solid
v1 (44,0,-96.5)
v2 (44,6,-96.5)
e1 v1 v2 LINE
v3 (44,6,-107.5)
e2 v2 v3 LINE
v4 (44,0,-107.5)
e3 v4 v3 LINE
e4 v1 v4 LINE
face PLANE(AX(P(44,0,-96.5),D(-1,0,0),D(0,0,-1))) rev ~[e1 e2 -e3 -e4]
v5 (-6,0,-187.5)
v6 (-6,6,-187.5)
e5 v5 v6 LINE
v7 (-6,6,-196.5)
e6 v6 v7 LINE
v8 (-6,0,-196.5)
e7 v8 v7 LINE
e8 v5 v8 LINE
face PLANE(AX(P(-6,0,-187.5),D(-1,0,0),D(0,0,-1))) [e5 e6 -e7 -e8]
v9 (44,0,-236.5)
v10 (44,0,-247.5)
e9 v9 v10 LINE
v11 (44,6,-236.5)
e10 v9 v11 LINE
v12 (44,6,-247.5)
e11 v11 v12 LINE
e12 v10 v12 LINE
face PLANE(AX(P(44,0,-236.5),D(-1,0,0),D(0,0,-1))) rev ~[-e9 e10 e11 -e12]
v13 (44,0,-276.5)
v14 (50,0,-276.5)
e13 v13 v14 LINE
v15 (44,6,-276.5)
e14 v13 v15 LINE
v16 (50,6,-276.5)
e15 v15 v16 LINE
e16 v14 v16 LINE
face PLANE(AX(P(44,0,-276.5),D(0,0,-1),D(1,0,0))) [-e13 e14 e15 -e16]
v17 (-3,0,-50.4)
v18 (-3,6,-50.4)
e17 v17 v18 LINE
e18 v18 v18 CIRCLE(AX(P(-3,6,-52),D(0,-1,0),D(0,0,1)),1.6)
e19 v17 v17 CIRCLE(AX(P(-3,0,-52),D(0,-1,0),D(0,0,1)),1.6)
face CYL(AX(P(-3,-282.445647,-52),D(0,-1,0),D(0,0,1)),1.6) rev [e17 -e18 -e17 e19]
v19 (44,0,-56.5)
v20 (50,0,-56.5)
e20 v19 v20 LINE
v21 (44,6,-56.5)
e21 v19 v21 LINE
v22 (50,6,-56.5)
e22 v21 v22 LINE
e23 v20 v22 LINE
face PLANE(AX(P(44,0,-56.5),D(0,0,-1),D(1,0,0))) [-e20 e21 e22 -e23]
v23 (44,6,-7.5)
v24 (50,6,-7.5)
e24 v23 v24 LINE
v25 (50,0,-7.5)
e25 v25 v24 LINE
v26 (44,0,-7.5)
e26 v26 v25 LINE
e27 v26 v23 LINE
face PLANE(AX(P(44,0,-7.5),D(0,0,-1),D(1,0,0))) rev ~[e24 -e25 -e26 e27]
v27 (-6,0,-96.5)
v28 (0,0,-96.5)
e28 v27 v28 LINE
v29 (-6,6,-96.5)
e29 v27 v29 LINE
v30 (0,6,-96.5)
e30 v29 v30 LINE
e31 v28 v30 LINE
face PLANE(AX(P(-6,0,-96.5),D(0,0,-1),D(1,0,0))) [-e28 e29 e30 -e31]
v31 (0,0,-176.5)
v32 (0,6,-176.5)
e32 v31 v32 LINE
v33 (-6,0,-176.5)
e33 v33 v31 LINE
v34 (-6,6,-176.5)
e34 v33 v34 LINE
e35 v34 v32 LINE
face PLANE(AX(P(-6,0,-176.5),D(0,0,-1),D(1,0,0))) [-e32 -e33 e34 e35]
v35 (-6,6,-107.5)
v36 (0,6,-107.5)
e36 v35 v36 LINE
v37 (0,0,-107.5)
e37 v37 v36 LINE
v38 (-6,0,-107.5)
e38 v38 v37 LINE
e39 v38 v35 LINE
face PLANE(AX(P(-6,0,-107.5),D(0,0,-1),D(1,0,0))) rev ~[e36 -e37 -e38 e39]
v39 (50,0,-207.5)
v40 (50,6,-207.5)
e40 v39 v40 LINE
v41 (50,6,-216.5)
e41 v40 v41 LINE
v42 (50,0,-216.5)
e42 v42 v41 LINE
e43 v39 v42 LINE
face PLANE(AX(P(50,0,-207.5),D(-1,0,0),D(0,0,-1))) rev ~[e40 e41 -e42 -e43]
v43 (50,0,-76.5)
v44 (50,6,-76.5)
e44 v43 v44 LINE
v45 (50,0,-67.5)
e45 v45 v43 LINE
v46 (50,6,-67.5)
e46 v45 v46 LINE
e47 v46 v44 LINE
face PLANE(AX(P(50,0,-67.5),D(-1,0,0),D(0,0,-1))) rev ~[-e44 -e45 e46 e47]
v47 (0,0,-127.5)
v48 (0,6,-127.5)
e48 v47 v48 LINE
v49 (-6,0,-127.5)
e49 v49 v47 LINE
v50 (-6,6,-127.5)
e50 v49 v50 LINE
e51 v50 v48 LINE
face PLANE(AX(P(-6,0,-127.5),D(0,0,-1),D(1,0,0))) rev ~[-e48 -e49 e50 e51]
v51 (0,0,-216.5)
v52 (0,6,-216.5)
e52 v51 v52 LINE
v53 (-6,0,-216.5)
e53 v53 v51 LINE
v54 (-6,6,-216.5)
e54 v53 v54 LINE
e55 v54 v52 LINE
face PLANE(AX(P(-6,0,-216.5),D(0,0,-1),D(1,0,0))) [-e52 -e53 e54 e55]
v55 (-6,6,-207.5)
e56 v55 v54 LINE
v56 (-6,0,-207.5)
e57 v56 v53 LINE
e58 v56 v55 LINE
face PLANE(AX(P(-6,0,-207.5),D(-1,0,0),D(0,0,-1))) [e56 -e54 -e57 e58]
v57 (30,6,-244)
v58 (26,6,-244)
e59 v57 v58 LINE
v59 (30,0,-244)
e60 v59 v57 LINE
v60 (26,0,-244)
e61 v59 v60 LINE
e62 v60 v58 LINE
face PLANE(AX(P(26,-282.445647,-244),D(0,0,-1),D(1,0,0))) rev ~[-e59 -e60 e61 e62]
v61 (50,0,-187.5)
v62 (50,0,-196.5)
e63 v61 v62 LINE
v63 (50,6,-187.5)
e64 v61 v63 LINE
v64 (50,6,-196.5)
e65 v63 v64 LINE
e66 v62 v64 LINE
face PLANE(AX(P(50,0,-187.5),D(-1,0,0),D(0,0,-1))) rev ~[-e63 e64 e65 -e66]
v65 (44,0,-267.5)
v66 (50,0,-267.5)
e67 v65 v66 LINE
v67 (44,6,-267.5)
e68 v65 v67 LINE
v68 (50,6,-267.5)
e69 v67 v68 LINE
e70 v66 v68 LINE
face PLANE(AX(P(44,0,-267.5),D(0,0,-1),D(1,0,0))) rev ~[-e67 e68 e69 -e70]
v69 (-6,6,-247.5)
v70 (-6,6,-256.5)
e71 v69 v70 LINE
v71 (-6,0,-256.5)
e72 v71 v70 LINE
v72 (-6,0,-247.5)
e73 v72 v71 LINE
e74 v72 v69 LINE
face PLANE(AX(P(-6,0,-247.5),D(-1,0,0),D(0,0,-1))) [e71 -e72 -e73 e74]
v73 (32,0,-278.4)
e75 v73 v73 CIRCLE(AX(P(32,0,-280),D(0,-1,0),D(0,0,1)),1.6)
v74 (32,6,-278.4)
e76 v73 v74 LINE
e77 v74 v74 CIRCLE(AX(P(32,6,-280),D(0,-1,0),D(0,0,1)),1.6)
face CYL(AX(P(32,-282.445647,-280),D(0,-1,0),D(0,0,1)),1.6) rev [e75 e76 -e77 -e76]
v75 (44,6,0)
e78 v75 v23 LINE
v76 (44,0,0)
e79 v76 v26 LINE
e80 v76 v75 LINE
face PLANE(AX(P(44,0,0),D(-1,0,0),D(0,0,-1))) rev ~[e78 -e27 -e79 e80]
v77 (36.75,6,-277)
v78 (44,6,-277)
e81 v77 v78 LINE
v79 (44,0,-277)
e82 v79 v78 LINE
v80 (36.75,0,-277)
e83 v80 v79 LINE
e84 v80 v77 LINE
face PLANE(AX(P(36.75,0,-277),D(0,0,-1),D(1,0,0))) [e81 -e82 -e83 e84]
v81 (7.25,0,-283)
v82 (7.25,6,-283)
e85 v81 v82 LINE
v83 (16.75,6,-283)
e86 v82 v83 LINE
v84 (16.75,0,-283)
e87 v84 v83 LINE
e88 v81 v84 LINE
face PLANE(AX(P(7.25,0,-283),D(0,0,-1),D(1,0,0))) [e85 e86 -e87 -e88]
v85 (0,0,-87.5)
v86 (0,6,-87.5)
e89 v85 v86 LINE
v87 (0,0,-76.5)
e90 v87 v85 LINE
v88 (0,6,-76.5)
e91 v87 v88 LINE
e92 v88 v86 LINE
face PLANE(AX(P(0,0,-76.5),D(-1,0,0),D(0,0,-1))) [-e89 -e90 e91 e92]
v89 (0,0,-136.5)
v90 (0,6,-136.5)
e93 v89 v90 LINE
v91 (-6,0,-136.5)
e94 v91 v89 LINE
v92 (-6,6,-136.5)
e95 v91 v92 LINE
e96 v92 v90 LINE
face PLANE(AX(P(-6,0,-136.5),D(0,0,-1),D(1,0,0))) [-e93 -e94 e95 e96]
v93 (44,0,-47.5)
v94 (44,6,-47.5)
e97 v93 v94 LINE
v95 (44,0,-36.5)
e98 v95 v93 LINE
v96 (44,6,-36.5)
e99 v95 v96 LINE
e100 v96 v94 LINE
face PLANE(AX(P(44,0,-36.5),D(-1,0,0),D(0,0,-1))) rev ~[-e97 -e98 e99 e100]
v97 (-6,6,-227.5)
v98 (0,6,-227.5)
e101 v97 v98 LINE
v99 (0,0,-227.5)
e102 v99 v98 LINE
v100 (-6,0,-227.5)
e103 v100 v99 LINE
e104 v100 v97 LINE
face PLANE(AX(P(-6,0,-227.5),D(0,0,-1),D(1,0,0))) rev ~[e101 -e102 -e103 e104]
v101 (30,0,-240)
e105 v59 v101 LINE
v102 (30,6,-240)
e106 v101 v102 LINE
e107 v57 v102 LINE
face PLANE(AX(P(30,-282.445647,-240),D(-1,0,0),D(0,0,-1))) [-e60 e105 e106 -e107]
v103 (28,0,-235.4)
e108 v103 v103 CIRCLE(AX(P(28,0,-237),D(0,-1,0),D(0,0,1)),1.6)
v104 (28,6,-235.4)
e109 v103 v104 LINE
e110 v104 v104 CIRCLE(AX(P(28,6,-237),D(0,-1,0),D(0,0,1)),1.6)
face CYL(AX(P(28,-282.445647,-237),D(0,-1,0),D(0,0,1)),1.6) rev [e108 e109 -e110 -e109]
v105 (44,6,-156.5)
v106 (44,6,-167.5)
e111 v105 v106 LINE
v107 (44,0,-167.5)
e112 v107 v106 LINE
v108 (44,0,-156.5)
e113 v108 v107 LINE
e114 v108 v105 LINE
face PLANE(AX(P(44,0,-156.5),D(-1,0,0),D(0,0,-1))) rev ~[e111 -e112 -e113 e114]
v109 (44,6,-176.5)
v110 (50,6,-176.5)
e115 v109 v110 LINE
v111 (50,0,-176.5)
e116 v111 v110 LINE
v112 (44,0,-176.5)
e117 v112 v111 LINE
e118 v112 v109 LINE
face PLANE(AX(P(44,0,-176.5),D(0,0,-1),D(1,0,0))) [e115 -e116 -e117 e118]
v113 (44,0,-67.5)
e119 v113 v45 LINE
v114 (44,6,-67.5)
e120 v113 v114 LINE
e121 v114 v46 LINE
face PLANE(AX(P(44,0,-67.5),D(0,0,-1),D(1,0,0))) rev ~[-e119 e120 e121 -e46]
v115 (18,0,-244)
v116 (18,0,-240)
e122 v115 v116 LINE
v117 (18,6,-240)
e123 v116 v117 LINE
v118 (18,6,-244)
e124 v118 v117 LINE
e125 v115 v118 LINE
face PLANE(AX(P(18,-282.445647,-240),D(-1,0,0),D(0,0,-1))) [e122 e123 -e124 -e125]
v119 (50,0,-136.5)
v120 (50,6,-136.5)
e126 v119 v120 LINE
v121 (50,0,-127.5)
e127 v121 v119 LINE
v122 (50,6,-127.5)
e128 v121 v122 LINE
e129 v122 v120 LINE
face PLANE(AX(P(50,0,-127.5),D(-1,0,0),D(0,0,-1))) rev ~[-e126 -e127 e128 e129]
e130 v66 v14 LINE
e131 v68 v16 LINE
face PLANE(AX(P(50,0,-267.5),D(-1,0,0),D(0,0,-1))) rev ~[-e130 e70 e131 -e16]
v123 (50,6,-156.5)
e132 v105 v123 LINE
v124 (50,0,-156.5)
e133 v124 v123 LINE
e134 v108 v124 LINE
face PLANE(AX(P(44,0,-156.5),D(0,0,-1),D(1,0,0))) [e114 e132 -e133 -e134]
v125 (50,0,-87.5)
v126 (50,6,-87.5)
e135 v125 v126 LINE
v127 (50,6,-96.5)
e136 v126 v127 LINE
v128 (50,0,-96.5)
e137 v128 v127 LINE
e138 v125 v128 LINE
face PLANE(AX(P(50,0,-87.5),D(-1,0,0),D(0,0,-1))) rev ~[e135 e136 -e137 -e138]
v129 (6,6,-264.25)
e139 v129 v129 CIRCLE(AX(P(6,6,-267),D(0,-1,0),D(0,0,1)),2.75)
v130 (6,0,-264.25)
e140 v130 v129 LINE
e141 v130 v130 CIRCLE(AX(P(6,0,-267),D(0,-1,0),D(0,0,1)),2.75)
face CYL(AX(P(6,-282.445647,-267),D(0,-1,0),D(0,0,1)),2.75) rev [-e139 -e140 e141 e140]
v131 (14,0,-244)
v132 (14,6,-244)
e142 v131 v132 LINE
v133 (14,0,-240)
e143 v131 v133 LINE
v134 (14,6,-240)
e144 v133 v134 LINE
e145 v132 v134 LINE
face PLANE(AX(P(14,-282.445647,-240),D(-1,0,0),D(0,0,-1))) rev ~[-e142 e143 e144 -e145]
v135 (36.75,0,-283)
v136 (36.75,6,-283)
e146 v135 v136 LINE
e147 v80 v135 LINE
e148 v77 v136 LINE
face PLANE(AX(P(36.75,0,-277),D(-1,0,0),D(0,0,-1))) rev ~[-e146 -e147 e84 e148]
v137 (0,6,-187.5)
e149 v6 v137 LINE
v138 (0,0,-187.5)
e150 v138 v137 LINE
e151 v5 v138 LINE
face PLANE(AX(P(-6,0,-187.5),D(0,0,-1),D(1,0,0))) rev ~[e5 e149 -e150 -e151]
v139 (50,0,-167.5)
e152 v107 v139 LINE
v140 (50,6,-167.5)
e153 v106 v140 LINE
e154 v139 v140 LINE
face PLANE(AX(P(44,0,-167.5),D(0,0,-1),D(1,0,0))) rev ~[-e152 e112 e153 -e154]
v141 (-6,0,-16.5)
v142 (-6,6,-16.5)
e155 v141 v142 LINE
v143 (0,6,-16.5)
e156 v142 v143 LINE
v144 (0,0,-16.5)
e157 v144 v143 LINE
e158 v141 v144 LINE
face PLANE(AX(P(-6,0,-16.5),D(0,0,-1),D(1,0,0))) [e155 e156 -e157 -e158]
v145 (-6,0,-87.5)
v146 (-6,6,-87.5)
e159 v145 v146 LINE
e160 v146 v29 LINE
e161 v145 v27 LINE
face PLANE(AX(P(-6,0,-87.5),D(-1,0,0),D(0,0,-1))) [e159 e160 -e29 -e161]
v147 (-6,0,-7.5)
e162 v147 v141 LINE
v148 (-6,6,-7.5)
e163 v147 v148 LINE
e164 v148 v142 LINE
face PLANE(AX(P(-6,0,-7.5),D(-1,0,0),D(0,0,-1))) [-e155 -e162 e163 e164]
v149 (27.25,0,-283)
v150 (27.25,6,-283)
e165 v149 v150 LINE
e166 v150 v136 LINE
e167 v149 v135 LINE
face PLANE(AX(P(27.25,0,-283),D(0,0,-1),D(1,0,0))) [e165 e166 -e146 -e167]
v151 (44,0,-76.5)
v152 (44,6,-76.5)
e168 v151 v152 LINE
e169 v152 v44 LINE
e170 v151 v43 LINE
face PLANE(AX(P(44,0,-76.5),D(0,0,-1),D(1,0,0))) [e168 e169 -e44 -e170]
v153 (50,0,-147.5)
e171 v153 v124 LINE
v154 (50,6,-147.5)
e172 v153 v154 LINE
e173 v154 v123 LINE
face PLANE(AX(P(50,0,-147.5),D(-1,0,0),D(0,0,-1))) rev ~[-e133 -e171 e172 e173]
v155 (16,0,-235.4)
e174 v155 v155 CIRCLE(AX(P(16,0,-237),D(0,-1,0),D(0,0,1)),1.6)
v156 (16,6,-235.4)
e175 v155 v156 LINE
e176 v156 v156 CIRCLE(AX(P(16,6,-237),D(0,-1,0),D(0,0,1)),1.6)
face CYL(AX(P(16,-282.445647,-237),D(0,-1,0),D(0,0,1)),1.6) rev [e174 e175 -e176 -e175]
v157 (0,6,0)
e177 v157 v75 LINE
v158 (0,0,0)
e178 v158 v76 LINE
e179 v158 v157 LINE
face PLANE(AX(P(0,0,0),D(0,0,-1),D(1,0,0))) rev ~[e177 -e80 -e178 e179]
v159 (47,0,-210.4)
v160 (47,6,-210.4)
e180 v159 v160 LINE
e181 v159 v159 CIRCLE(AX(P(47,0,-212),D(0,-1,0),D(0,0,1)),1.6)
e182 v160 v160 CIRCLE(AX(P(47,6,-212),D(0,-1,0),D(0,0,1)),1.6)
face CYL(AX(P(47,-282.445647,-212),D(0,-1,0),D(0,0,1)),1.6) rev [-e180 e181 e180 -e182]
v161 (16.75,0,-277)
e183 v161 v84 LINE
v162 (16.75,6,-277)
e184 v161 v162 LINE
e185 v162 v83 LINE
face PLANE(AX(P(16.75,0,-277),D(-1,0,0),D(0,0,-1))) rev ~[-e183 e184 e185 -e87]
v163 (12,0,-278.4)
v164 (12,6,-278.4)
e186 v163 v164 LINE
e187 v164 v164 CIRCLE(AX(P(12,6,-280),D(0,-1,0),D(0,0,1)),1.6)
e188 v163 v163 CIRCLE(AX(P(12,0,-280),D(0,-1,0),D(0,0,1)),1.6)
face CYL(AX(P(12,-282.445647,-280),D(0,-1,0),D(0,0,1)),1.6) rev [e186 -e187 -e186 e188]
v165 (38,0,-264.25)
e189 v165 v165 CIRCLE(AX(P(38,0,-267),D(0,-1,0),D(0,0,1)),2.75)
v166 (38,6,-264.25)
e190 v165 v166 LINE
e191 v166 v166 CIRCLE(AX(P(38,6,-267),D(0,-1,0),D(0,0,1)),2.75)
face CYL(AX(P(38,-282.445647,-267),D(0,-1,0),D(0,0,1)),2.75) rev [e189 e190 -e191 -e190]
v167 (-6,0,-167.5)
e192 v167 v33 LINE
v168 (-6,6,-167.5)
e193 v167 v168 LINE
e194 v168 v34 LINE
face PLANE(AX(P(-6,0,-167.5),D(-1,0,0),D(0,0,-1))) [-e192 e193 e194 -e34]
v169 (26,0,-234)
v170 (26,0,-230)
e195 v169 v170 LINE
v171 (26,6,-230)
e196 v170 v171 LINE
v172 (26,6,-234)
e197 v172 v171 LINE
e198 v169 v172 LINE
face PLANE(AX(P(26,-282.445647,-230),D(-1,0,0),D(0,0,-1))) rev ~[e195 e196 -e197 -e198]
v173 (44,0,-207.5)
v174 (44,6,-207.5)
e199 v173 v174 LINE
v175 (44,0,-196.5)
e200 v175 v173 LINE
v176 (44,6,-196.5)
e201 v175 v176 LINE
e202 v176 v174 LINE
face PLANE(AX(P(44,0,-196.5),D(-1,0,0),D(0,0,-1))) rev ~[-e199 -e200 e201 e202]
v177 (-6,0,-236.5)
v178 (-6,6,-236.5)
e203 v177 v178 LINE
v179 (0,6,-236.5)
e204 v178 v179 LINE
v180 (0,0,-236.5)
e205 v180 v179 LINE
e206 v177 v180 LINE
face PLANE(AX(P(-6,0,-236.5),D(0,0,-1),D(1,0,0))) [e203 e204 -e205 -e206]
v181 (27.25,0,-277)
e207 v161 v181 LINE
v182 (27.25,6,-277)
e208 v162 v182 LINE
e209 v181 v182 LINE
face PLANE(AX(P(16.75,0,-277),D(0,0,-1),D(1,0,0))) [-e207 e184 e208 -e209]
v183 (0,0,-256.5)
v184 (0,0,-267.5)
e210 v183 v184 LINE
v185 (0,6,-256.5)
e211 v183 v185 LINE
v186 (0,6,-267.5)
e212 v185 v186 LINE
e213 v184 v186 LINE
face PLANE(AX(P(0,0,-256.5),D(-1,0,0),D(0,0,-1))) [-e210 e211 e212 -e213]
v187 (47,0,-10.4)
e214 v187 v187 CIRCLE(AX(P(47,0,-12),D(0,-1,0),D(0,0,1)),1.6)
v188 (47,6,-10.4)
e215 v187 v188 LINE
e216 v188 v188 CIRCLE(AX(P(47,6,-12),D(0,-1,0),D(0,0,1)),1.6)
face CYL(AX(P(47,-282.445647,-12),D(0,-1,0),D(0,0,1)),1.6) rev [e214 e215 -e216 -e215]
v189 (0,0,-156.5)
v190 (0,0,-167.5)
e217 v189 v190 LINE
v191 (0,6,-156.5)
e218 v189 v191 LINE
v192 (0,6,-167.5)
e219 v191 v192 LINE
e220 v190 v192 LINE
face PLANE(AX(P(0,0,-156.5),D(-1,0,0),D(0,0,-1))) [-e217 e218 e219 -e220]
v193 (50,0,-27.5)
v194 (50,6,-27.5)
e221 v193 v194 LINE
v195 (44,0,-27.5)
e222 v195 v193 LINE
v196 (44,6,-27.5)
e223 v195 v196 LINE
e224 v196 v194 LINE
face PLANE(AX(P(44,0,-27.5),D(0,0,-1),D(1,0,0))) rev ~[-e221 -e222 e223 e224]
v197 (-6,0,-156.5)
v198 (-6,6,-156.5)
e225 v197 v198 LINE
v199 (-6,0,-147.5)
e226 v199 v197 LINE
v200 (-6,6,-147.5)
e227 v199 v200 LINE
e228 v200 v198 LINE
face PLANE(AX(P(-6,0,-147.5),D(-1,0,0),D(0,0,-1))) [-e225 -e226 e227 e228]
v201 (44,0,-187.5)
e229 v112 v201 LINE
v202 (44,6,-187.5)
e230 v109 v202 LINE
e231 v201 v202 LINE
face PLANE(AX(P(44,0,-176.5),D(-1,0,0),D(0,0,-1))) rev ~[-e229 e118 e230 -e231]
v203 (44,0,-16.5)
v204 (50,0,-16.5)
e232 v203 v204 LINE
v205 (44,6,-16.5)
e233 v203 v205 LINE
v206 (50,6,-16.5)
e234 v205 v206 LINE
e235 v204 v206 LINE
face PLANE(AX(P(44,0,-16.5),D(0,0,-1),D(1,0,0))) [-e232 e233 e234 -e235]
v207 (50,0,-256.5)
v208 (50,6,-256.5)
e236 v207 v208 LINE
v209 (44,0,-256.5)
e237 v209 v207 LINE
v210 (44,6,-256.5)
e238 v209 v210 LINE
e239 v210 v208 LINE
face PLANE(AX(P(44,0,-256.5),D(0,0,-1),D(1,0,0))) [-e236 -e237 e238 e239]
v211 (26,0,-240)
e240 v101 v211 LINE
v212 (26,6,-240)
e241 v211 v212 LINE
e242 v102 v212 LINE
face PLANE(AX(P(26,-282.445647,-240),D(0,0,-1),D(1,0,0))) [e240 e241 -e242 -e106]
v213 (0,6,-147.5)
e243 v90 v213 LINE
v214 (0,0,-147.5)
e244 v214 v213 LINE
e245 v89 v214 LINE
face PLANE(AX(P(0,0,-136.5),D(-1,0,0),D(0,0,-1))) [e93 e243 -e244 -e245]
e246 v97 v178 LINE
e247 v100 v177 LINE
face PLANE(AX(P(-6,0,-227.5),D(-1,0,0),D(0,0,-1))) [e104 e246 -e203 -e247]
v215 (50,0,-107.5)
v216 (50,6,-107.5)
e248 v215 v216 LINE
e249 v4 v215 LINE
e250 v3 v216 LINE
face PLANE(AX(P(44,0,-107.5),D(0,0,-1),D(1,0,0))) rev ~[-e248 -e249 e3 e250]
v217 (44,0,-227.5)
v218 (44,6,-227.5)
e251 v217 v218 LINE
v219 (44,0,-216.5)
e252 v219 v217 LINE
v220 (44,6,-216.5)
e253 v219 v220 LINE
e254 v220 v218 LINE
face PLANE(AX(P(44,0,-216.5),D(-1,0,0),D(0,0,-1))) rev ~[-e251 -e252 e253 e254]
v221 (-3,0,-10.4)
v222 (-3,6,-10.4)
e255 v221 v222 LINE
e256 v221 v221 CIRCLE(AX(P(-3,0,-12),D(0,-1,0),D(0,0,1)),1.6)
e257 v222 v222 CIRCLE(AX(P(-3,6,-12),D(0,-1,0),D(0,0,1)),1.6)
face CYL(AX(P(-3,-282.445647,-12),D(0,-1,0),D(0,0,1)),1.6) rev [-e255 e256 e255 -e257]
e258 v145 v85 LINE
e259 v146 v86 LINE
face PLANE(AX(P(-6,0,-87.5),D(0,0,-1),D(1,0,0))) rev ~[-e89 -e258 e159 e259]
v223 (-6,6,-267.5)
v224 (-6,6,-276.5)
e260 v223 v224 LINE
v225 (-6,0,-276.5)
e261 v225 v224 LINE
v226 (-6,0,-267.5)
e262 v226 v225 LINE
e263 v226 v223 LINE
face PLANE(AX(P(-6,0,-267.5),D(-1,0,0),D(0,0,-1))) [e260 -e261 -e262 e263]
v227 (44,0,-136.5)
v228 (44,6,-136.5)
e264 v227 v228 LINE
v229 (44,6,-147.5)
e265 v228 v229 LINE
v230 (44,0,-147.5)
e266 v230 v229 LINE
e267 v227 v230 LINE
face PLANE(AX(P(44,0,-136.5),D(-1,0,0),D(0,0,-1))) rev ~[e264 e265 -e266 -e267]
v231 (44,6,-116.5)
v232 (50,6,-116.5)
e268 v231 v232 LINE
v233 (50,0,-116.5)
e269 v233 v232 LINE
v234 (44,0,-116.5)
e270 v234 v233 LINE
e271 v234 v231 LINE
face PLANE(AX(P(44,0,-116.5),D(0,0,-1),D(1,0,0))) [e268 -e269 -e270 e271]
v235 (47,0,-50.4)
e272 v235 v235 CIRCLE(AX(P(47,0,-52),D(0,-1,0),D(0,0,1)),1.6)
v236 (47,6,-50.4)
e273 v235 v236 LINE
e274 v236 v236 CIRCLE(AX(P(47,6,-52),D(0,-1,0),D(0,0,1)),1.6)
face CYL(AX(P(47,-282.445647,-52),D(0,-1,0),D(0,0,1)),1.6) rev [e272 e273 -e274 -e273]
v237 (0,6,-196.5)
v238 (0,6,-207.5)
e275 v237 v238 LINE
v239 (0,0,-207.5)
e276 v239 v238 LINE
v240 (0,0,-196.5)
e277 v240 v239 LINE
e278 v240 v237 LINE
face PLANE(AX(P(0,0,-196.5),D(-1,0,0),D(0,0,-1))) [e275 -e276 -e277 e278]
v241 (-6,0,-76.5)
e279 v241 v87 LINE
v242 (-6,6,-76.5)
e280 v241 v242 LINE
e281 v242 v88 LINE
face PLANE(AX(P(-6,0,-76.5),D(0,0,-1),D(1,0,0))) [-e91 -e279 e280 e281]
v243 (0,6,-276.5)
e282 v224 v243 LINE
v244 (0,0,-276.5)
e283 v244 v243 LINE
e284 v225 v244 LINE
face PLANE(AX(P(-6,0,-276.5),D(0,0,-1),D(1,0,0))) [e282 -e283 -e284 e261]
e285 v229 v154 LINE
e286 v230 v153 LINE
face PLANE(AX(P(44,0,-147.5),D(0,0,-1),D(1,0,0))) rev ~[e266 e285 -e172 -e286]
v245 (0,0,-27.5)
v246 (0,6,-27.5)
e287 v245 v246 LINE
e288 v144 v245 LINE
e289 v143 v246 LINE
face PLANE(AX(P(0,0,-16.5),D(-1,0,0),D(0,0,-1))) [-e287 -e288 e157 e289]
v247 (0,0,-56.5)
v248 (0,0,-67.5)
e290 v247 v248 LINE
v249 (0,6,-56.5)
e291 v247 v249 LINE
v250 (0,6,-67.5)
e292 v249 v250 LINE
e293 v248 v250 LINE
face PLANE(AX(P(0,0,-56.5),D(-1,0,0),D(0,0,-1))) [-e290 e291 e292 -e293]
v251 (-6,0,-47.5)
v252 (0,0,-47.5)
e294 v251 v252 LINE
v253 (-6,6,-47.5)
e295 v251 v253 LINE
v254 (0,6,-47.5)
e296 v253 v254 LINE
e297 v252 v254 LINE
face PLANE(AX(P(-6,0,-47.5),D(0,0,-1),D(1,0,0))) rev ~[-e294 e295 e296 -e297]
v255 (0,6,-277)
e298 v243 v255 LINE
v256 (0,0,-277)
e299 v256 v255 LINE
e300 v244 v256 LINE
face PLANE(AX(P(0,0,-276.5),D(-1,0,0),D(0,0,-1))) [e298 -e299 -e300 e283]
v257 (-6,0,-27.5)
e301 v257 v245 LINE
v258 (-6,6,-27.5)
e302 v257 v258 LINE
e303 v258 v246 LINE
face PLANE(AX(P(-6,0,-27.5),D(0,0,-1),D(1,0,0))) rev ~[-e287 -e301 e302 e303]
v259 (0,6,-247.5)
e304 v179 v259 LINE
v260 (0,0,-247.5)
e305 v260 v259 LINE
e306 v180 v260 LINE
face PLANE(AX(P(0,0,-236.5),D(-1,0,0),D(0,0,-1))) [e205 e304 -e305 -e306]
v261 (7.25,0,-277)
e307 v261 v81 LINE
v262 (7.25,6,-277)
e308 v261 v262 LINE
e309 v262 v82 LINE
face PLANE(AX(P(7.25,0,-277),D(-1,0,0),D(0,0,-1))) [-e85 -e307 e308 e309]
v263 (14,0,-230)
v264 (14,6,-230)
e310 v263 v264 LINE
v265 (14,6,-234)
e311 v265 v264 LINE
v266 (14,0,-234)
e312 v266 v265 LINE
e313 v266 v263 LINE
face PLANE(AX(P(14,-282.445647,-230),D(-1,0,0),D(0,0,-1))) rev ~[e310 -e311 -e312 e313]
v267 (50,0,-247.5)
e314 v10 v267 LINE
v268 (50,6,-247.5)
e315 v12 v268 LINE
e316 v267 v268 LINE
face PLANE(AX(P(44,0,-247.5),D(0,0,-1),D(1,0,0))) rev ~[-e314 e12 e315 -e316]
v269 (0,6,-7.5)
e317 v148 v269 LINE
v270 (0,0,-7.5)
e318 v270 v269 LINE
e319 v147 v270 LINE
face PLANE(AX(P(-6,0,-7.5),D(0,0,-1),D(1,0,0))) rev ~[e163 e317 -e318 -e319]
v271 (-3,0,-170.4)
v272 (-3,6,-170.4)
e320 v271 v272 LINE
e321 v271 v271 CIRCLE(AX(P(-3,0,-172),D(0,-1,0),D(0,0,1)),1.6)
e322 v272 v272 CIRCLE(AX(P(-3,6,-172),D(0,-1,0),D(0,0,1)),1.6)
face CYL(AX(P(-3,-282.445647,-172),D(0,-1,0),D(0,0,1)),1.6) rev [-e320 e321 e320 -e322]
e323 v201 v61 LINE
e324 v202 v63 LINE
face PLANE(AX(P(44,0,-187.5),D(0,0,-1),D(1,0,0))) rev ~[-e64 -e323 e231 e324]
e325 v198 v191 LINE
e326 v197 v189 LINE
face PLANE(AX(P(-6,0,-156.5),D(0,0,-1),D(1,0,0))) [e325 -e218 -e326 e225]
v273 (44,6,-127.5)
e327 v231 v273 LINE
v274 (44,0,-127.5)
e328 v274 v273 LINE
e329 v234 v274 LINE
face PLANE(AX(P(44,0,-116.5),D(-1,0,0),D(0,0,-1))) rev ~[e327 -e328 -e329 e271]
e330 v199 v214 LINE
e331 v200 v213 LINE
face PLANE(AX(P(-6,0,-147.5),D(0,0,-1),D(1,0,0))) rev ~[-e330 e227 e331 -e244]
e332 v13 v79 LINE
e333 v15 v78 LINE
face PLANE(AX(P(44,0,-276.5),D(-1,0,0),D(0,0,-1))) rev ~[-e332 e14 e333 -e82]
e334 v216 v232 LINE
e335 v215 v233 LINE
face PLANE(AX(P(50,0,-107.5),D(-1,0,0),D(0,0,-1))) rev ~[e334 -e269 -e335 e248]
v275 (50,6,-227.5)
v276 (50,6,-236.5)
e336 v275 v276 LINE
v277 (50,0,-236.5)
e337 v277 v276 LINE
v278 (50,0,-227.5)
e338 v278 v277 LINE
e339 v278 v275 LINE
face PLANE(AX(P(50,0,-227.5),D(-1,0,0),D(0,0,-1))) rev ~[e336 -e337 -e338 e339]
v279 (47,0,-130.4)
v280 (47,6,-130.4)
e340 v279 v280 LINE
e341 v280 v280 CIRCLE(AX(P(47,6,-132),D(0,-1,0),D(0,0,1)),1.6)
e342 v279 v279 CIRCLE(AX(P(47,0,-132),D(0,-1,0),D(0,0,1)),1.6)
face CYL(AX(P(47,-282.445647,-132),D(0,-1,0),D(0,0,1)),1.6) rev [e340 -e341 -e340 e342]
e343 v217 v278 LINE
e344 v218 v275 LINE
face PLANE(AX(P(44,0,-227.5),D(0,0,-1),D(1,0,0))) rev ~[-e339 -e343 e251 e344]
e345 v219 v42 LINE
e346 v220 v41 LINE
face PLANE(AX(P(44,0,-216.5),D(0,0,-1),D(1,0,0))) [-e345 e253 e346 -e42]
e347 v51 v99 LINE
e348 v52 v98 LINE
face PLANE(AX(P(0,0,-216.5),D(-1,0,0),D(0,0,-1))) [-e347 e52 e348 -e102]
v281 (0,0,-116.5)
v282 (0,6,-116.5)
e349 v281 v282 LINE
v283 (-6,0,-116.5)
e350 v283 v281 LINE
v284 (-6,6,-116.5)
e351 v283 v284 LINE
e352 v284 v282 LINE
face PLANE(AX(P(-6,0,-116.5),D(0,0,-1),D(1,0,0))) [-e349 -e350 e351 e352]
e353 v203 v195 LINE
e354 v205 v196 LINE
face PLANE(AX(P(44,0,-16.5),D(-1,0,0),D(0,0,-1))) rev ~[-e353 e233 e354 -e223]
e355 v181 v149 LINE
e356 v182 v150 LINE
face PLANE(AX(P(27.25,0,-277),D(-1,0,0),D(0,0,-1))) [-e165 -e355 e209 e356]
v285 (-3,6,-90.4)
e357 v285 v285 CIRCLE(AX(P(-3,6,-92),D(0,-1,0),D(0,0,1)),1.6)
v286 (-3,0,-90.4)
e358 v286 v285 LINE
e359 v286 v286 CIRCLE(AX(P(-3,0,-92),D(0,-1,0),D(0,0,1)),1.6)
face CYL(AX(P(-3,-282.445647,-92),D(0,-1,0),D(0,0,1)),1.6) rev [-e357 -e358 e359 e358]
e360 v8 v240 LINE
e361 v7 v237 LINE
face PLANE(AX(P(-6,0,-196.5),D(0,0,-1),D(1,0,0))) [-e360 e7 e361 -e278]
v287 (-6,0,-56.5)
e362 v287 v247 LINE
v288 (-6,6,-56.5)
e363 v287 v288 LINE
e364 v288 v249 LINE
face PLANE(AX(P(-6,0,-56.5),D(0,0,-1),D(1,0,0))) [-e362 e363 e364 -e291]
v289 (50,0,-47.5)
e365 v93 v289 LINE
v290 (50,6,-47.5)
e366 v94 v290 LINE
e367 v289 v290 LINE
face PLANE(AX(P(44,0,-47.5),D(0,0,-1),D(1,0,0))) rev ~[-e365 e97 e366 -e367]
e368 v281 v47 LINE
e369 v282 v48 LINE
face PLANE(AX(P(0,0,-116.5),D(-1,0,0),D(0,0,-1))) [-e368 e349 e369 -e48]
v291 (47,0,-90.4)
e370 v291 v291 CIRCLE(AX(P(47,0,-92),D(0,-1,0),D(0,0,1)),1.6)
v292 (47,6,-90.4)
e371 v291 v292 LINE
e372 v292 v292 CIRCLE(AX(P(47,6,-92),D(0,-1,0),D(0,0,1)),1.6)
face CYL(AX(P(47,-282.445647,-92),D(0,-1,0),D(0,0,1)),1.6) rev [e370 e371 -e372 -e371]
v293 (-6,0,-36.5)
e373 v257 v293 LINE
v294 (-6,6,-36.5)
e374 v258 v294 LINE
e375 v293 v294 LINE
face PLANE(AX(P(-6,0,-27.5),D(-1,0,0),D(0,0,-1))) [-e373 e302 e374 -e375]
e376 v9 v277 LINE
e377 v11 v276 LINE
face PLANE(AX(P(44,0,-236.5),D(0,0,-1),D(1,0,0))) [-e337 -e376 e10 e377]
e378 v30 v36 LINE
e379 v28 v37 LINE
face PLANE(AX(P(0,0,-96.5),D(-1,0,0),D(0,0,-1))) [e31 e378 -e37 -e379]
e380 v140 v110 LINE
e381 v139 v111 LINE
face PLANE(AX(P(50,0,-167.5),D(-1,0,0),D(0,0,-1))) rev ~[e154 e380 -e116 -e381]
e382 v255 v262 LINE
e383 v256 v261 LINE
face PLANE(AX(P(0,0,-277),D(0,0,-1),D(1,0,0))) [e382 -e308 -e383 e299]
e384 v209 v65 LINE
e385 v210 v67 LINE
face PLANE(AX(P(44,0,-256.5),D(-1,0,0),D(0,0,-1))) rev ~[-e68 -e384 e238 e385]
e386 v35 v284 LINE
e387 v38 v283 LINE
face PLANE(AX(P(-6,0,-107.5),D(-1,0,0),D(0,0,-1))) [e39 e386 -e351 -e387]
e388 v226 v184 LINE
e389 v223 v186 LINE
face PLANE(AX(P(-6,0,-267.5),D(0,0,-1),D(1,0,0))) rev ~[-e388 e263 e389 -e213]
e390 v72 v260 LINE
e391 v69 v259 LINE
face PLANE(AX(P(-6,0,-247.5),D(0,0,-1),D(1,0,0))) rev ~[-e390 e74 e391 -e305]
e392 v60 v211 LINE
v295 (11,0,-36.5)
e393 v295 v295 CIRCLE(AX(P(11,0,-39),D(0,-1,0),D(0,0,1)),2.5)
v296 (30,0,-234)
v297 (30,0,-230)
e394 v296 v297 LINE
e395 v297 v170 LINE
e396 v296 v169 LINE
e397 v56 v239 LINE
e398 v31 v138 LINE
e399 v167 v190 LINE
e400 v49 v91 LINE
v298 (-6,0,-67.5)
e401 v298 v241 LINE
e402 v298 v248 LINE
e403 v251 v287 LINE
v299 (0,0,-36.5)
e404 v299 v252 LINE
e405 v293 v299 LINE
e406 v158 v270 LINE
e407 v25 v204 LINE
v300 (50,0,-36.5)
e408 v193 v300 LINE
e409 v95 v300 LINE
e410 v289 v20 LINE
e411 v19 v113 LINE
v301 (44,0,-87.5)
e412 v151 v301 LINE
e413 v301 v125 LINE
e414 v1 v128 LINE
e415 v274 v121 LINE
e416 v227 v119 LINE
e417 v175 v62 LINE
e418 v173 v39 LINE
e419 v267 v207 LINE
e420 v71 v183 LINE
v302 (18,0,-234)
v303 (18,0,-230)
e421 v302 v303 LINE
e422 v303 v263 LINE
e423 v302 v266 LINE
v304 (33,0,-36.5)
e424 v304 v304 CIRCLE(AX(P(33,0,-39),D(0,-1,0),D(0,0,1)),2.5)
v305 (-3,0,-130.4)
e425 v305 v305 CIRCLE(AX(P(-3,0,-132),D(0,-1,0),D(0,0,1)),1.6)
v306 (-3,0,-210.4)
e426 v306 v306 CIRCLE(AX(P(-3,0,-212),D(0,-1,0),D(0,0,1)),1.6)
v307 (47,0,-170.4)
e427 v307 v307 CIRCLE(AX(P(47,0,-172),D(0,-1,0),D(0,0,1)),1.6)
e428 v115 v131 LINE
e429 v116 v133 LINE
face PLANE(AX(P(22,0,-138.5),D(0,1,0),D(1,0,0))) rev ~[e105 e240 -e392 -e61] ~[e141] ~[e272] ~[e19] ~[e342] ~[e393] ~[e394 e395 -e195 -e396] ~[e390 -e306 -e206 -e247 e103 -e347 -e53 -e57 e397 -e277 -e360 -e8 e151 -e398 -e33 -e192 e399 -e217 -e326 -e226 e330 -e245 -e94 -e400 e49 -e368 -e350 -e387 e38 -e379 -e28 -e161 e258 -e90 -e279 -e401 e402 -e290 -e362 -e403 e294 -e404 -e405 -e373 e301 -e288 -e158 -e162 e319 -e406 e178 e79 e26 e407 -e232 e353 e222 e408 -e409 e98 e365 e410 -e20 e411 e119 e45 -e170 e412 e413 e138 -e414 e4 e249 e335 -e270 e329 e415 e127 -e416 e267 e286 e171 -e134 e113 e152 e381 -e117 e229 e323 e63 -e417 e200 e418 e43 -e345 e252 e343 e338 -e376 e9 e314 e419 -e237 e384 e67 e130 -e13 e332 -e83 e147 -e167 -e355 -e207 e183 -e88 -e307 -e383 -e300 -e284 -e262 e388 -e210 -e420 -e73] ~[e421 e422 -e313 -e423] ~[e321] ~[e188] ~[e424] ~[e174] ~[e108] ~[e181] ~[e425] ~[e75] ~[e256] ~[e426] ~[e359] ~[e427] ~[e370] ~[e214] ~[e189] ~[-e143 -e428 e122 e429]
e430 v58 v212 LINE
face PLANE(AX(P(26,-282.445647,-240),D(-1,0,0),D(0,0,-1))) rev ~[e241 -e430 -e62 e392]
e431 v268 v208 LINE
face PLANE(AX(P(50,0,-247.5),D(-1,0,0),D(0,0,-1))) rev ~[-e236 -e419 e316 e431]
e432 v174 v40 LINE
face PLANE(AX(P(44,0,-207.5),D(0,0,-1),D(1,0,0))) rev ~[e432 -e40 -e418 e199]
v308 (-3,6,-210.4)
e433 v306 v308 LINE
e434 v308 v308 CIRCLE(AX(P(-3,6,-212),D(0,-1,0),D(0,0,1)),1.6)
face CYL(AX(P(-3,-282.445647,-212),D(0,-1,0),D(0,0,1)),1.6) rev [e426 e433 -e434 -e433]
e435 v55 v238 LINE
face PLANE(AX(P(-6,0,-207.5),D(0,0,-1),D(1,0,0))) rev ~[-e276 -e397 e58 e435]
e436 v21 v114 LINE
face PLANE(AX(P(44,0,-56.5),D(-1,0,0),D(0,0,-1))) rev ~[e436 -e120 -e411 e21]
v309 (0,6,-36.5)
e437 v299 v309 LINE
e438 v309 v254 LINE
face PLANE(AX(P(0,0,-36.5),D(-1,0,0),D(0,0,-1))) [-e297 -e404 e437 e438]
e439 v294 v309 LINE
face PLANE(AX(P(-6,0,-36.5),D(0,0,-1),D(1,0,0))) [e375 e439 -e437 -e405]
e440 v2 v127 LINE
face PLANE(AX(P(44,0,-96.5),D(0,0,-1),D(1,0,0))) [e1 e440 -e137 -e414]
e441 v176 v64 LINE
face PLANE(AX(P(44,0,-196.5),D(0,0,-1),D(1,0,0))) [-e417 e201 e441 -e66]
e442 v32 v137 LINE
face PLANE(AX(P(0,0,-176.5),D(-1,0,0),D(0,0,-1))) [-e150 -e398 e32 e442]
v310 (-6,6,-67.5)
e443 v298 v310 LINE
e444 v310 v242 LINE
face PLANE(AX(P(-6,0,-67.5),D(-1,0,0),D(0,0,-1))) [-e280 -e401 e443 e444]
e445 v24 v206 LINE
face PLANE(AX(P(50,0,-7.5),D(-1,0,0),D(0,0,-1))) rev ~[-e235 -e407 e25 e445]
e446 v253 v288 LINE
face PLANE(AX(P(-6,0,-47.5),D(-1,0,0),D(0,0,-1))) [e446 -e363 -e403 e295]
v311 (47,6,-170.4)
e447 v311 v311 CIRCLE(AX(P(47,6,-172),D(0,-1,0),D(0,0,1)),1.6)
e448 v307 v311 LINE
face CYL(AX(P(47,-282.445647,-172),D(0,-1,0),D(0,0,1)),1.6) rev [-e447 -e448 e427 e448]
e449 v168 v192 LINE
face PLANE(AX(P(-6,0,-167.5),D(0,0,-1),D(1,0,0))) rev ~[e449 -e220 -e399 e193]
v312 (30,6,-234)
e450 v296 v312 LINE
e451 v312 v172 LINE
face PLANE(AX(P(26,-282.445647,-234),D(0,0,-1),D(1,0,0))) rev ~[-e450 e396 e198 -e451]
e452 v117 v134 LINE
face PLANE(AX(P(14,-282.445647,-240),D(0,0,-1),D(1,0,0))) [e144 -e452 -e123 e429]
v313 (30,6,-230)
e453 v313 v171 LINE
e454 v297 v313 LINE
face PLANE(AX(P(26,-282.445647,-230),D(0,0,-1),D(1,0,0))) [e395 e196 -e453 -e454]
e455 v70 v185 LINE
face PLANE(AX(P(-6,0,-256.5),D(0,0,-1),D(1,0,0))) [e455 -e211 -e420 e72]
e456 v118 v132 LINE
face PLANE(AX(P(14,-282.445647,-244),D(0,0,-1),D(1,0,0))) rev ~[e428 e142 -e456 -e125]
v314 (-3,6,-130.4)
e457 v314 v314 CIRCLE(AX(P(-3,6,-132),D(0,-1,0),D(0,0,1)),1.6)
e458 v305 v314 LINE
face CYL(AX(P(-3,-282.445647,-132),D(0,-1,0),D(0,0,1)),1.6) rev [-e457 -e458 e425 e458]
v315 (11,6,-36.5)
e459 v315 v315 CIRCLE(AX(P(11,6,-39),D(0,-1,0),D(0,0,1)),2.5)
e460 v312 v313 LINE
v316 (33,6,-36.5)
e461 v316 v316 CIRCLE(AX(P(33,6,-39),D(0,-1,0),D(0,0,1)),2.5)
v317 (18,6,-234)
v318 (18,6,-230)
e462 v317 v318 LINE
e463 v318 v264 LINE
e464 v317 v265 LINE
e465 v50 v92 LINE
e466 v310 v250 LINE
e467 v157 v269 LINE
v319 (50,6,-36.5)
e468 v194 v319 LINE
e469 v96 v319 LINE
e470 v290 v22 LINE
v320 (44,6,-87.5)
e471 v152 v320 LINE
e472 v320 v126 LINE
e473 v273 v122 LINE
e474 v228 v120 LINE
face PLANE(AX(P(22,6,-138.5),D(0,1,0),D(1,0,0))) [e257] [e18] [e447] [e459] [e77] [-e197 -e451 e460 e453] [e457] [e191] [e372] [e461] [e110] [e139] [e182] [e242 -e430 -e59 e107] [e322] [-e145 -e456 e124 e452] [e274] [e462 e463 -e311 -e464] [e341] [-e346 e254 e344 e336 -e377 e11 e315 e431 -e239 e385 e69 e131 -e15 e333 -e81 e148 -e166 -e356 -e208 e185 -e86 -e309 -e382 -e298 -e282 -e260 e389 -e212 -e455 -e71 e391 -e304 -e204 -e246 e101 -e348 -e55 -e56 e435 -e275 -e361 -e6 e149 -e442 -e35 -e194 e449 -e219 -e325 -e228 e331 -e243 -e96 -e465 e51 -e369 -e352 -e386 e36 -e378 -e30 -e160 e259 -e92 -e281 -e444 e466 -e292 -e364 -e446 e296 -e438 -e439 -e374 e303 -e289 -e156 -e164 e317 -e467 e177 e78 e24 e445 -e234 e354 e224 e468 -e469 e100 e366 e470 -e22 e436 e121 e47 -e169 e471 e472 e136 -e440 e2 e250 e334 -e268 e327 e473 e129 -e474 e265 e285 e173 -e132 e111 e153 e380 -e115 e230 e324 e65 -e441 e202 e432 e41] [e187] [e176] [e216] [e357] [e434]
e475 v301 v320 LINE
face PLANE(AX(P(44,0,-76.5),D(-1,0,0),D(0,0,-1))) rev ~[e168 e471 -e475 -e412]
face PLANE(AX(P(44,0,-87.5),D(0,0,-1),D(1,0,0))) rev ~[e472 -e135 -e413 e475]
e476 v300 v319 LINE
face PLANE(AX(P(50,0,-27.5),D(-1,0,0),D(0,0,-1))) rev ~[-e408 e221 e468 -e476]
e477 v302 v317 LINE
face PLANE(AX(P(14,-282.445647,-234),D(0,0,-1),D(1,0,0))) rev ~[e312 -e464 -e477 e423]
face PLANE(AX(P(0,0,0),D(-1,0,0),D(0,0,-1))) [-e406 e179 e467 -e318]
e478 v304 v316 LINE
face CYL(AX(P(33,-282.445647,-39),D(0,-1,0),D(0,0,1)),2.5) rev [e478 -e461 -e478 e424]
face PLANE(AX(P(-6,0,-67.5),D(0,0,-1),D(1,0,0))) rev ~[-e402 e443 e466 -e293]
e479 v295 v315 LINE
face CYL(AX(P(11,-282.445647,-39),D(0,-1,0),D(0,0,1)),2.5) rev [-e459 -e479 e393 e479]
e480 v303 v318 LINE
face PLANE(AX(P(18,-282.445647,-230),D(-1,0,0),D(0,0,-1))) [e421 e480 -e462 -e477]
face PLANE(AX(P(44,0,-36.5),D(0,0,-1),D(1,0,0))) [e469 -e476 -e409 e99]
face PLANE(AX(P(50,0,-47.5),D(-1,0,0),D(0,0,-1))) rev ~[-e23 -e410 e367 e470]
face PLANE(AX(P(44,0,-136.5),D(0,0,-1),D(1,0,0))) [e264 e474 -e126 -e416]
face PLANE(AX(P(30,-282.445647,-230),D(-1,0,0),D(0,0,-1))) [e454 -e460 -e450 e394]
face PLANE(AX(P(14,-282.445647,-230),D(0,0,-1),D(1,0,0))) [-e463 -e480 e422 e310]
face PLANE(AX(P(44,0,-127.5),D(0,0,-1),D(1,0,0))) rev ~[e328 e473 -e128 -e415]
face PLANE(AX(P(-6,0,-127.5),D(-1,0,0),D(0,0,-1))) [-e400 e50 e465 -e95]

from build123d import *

# Parameters (mm, degrees)
SKETCH1_W               = 44
SKETCH1_H               = 277
SKETCH1_W_2             = 6
SKETCH1_H_2             = 9
SKETCH1_W_3             = 9.5
SKETCH1_H_3             = 6
BOSS_EXTRUDE1_DEPTH     = 6
CUT_EXTRUDE1_DEPTH      = 288.445647036
CUT_EXTRUDE1_DEPTH_BACK = 288.445647036
SKETCH2_R               = 2.75
CUT_EXTRUDE2_DEPTH      = 288.445647036
CUT_EXTRUDE2_DEPTH_BACK = 288.445647036
SKETCH3_R               = 1.6
SKETCH3_W               = 4
SKETCH3_H               = 4
CUT_EXTRUDE3_DEPTH      = 288.445647036
CUT_EXTRUDE3_DEPTH_BACK = 288.445647036
SKETCH4_R               = 2.5
CUT_EXTRUDE4_DEPTH      = 288.445647036
CUT_EXTRUDE4_DEPTH_BACK = 288.445647036
SKETCH5_R               = 1.6


with BuildPart() as part:
    # Sketch1 → Boss-Extrude1 (new body)
    with BuildSketch(Plane(origin=(0, 0, 0), x_dir=(1, 0, 0), z_dir=(0, 1, 0))):
        with Locations((22, 138.5)):
            Rectangle(SKETCH1_W, SKETCH1_H)
        with Locations((-3, 12)):
            Rectangle(SKETCH1_W_2, SKETCH1_H_2)
        with Locations((-3, 32)):
            Rectangle(SKETCH1_W_2, SKETCH1_H_2)
        with Locations((-3, 52)):
            Rectangle(SKETCH1_W_2, SKETCH1_H_2)
        with Locations((-3, 72)):
            Rectangle(SKETCH1_W_2, SKETCH1_H_2)
        with Locations((-3, 92)):
            Rectangle(SKETCH1_W_2, SKETCH1_H_2)
        with Locations((-3, 112)):
            Rectangle(SKETCH1_W_2, SKETCH1_H_2)
        with Locations((-3, 132)):
            Rectangle(SKETCH1_W_2, SKETCH1_H_2)
        with Locations((-3, 152)):
            Rectangle(SKETCH1_W_2, SKETCH1_H_2)
        with Locations((-3, 172)):
            Rectangle(SKETCH1_W_2, SKETCH1_H_2)
        with Locations((-3, 192)):
            Rectangle(SKETCH1_W_2, SKETCH1_H_2)
        with Locations((-3, 212)):
            Rectangle(SKETCH1_W_2, SKETCH1_H_2)
        with Locations((-3, 232)):
            Rectangle(SKETCH1_W_2, SKETCH1_H_2)
        with Locations((-3, 252)):
            Rectangle(SKETCH1_W_2, SKETCH1_H_2)
        with Locations((-3, 272)):
            Rectangle(SKETCH1_W_2, SKETCH1_H_2)
        with Locations((12, 280)):
            Rectangle(SKETCH1_W_3, SKETCH1_H_3)
        with Locations((32, 280)):
            Rectangle(SKETCH1_W_3, SKETCH1_H_3)
        with Locations((47, 272)):
            Rectangle(SKETCH1_W_2, SKETCH1_H_2)
        with Locations((47, 252)):
            Rectangle(SKETCH1_W_2, SKETCH1_H_2)
        with Locations((47, 232)):
            Rectangle(SKETCH1_W_2, SKETCH1_H_2)
        with Locations((47, 212)):
            Rectangle(SKETCH1_W_2, SKETCH1_H_2)
        with Locations((47, 192)):
            Rectangle(SKETCH1_W_2, SKETCH1_H_2)
        with Locations((47, 172)):
            Rectangle(SKETCH1_W_2, SKETCH1_H_2)
        with Locations((47, 152)):
            Rectangle(SKETCH1_W_2, SKETCH1_H_2)
        with Locations((47, 132)):
            Rectangle(SKETCH1_W_2, SKETCH1_H_2)
        with Locations((47, 112)):
            Rectangle(SKETCH1_W_2, SKETCH1_H_2)
        with Locations((47, 92)):
            Rectangle(SKETCH1_W_2, SKETCH1_H_2)
        with Locations((47, 72)):
            Rectangle(SKETCH1_W_2, SKETCH1_H_2)
        with Locations((47, 52)):
            Rectangle(SKETCH1_W_2, SKETCH1_H_2)
        with Locations((47, 32)):
            Rectangle(SKETCH1_W_2, SKETCH1_H_2)
        with Locations((47, 12)):
            Rectangle(SKETCH1_W_2, SKETCH1_H_2)
    extrude(amount=BOSS_EXTRUDE1_DEPTH)

    # Sketch2 → Cut-Extrude1 (cut, two sides: drawn at the far end of the back side and taken through both)
    with BuildSketch(Plane(origin=(0, 6, 0), x_dir=(1, 0, 0), z_dir=(0, 1, 0)).offset(-CUT_EXTRUDE1_DEPTH_BACK)):
        with Locations(Location((6, 267, 0), (0, 0, 270))):
            Circle(SKETCH2_R)
        with Locations(Location((38, 267, 0), (0, 0, 270))):
            Circle(SKETCH2_R)
    extrude(amount=CUT_EXTRUDE1_DEPTH + CUT_EXTRUDE1_DEPTH_BACK, mode=Mode.SUBTRACT)

    # Sketch3 → Cut-Extrude2 (cut, two sides: drawn at the far end of the back side and taken through both)
    with BuildSketch(Plane(origin=(0, 6, 0), x_dir=(1, 0, 0), z_dir=(0, 1, 0)).offset(-CUT_EXTRUDE2_DEPTH_BACK)):
        with Locations(Location((16, 237, 0), (0, 0, 270))):
            Circle(SKETCH3_R)
        with Locations(Location((28, 237, 0), (0, 0, 270))):
            Circle(SKETCH3_R)
        with Locations((16, 242)):
            Rectangle(SKETCH3_W, SKETCH3_H)
        with Locations((16, 232)):
            Rectangle(SKETCH3_W, SKETCH3_H)
        with Locations((28, 242)):
            Rectangle(SKETCH3_W, SKETCH3_H)
        with Locations((28, 232)):
            Rectangle(SKETCH3_W, SKETCH3_H)
    extrude(amount=CUT_EXTRUDE2_DEPTH + CUT_EXTRUDE2_DEPTH_BACK, mode=Mode.SUBTRACT)

    # Sketch4 → Cut-Extrude3 (cut, two sides: drawn at the far end of the back side and taken through both)
    with BuildSketch(Plane(origin=(0, 6, 0), x_dir=(1, 0, 0), z_dir=(0, 1, 0)).offset(-CUT_EXTRUDE3_DEPTH_BACK)):
        with Locations(Location((33, 39, 0), (0, 0, 270))):
            Circle(SKETCH4_R)
        with Locations(Location((11, 39, 0), (0, 0, 270))):
            Circle(SKETCH4_R)
    extrude(amount=CUT_EXTRUDE3_DEPTH + CUT_EXTRUDE3_DEPTH_BACK, mode=Mode.SUBTRACT)

    # Sketch5 → Cut-Extrude4 (cut, two sides: drawn at the far end of the back side and taken through both)
    with BuildSketch(Plane(origin=(0, 6, 0), x_dir=(1, 0, 0), z_dir=(0, 1, 0)).offset(-CUT_EXTRUDE4_DEPTH_BACK)):
        with Locations(Location((-3, 12, 0), (0, 0, 270))):
            Circle(SKETCH5_R)
        with Locations(Location((47, 12, 0), (0, 0, 270))):
            Circle(SKETCH5_R)
        with Locations(Location((47, 52, 0), (0, 0, 270))):
            Circle(SKETCH5_R)
        with Locations(Location((47, 92, 0), (0, 0, 270))):
            Circle(SKETCH5_R)
        with Locations(Location((47, 132, 0), (0, 0, 270))):
            Circle(SKETCH5_R)
        with Locations(Location((47, 172, 0), (0, 0, 270))):
            Circle(SKETCH5_R)
        with Locations(Location((47, 212, 0), (0, 0, 270))):
            Circle(SKETCH5_R)
        with Locations(Location((-3, 52, 0), (0, 0, 270))):
            Circle(SKETCH5_R)
        with Locations(Location((-3, 92, 0), (0, 0, 270))):
            Circle(SKETCH5_R)
        with Locations(Location((-3, 132, 0), (0, 0, 270))):
            Circle(SKETCH5_R)
        with Locations(Location((-3, 172, 0), (0, 0, 270))):
            Circle(SKETCH5_R)
        with Locations(Location((-3, 212, 0), (0, 0, 270))):
            Circle(SKETCH5_R)
        with Locations(Location((32, 280, 0), (0, 0, 270))):
            Circle(SKETCH5_R)
        with Locations(Location((12, 280, 0), (0, 0, 270))):
            Circle(SKETCH5_R)
    extrude(amount=CUT_EXTRUDE4_DEPTH + CUT_EXTRUDE4_DEPTH_BACK, mode=Mode.SUBTRACT)


solid = part.part
